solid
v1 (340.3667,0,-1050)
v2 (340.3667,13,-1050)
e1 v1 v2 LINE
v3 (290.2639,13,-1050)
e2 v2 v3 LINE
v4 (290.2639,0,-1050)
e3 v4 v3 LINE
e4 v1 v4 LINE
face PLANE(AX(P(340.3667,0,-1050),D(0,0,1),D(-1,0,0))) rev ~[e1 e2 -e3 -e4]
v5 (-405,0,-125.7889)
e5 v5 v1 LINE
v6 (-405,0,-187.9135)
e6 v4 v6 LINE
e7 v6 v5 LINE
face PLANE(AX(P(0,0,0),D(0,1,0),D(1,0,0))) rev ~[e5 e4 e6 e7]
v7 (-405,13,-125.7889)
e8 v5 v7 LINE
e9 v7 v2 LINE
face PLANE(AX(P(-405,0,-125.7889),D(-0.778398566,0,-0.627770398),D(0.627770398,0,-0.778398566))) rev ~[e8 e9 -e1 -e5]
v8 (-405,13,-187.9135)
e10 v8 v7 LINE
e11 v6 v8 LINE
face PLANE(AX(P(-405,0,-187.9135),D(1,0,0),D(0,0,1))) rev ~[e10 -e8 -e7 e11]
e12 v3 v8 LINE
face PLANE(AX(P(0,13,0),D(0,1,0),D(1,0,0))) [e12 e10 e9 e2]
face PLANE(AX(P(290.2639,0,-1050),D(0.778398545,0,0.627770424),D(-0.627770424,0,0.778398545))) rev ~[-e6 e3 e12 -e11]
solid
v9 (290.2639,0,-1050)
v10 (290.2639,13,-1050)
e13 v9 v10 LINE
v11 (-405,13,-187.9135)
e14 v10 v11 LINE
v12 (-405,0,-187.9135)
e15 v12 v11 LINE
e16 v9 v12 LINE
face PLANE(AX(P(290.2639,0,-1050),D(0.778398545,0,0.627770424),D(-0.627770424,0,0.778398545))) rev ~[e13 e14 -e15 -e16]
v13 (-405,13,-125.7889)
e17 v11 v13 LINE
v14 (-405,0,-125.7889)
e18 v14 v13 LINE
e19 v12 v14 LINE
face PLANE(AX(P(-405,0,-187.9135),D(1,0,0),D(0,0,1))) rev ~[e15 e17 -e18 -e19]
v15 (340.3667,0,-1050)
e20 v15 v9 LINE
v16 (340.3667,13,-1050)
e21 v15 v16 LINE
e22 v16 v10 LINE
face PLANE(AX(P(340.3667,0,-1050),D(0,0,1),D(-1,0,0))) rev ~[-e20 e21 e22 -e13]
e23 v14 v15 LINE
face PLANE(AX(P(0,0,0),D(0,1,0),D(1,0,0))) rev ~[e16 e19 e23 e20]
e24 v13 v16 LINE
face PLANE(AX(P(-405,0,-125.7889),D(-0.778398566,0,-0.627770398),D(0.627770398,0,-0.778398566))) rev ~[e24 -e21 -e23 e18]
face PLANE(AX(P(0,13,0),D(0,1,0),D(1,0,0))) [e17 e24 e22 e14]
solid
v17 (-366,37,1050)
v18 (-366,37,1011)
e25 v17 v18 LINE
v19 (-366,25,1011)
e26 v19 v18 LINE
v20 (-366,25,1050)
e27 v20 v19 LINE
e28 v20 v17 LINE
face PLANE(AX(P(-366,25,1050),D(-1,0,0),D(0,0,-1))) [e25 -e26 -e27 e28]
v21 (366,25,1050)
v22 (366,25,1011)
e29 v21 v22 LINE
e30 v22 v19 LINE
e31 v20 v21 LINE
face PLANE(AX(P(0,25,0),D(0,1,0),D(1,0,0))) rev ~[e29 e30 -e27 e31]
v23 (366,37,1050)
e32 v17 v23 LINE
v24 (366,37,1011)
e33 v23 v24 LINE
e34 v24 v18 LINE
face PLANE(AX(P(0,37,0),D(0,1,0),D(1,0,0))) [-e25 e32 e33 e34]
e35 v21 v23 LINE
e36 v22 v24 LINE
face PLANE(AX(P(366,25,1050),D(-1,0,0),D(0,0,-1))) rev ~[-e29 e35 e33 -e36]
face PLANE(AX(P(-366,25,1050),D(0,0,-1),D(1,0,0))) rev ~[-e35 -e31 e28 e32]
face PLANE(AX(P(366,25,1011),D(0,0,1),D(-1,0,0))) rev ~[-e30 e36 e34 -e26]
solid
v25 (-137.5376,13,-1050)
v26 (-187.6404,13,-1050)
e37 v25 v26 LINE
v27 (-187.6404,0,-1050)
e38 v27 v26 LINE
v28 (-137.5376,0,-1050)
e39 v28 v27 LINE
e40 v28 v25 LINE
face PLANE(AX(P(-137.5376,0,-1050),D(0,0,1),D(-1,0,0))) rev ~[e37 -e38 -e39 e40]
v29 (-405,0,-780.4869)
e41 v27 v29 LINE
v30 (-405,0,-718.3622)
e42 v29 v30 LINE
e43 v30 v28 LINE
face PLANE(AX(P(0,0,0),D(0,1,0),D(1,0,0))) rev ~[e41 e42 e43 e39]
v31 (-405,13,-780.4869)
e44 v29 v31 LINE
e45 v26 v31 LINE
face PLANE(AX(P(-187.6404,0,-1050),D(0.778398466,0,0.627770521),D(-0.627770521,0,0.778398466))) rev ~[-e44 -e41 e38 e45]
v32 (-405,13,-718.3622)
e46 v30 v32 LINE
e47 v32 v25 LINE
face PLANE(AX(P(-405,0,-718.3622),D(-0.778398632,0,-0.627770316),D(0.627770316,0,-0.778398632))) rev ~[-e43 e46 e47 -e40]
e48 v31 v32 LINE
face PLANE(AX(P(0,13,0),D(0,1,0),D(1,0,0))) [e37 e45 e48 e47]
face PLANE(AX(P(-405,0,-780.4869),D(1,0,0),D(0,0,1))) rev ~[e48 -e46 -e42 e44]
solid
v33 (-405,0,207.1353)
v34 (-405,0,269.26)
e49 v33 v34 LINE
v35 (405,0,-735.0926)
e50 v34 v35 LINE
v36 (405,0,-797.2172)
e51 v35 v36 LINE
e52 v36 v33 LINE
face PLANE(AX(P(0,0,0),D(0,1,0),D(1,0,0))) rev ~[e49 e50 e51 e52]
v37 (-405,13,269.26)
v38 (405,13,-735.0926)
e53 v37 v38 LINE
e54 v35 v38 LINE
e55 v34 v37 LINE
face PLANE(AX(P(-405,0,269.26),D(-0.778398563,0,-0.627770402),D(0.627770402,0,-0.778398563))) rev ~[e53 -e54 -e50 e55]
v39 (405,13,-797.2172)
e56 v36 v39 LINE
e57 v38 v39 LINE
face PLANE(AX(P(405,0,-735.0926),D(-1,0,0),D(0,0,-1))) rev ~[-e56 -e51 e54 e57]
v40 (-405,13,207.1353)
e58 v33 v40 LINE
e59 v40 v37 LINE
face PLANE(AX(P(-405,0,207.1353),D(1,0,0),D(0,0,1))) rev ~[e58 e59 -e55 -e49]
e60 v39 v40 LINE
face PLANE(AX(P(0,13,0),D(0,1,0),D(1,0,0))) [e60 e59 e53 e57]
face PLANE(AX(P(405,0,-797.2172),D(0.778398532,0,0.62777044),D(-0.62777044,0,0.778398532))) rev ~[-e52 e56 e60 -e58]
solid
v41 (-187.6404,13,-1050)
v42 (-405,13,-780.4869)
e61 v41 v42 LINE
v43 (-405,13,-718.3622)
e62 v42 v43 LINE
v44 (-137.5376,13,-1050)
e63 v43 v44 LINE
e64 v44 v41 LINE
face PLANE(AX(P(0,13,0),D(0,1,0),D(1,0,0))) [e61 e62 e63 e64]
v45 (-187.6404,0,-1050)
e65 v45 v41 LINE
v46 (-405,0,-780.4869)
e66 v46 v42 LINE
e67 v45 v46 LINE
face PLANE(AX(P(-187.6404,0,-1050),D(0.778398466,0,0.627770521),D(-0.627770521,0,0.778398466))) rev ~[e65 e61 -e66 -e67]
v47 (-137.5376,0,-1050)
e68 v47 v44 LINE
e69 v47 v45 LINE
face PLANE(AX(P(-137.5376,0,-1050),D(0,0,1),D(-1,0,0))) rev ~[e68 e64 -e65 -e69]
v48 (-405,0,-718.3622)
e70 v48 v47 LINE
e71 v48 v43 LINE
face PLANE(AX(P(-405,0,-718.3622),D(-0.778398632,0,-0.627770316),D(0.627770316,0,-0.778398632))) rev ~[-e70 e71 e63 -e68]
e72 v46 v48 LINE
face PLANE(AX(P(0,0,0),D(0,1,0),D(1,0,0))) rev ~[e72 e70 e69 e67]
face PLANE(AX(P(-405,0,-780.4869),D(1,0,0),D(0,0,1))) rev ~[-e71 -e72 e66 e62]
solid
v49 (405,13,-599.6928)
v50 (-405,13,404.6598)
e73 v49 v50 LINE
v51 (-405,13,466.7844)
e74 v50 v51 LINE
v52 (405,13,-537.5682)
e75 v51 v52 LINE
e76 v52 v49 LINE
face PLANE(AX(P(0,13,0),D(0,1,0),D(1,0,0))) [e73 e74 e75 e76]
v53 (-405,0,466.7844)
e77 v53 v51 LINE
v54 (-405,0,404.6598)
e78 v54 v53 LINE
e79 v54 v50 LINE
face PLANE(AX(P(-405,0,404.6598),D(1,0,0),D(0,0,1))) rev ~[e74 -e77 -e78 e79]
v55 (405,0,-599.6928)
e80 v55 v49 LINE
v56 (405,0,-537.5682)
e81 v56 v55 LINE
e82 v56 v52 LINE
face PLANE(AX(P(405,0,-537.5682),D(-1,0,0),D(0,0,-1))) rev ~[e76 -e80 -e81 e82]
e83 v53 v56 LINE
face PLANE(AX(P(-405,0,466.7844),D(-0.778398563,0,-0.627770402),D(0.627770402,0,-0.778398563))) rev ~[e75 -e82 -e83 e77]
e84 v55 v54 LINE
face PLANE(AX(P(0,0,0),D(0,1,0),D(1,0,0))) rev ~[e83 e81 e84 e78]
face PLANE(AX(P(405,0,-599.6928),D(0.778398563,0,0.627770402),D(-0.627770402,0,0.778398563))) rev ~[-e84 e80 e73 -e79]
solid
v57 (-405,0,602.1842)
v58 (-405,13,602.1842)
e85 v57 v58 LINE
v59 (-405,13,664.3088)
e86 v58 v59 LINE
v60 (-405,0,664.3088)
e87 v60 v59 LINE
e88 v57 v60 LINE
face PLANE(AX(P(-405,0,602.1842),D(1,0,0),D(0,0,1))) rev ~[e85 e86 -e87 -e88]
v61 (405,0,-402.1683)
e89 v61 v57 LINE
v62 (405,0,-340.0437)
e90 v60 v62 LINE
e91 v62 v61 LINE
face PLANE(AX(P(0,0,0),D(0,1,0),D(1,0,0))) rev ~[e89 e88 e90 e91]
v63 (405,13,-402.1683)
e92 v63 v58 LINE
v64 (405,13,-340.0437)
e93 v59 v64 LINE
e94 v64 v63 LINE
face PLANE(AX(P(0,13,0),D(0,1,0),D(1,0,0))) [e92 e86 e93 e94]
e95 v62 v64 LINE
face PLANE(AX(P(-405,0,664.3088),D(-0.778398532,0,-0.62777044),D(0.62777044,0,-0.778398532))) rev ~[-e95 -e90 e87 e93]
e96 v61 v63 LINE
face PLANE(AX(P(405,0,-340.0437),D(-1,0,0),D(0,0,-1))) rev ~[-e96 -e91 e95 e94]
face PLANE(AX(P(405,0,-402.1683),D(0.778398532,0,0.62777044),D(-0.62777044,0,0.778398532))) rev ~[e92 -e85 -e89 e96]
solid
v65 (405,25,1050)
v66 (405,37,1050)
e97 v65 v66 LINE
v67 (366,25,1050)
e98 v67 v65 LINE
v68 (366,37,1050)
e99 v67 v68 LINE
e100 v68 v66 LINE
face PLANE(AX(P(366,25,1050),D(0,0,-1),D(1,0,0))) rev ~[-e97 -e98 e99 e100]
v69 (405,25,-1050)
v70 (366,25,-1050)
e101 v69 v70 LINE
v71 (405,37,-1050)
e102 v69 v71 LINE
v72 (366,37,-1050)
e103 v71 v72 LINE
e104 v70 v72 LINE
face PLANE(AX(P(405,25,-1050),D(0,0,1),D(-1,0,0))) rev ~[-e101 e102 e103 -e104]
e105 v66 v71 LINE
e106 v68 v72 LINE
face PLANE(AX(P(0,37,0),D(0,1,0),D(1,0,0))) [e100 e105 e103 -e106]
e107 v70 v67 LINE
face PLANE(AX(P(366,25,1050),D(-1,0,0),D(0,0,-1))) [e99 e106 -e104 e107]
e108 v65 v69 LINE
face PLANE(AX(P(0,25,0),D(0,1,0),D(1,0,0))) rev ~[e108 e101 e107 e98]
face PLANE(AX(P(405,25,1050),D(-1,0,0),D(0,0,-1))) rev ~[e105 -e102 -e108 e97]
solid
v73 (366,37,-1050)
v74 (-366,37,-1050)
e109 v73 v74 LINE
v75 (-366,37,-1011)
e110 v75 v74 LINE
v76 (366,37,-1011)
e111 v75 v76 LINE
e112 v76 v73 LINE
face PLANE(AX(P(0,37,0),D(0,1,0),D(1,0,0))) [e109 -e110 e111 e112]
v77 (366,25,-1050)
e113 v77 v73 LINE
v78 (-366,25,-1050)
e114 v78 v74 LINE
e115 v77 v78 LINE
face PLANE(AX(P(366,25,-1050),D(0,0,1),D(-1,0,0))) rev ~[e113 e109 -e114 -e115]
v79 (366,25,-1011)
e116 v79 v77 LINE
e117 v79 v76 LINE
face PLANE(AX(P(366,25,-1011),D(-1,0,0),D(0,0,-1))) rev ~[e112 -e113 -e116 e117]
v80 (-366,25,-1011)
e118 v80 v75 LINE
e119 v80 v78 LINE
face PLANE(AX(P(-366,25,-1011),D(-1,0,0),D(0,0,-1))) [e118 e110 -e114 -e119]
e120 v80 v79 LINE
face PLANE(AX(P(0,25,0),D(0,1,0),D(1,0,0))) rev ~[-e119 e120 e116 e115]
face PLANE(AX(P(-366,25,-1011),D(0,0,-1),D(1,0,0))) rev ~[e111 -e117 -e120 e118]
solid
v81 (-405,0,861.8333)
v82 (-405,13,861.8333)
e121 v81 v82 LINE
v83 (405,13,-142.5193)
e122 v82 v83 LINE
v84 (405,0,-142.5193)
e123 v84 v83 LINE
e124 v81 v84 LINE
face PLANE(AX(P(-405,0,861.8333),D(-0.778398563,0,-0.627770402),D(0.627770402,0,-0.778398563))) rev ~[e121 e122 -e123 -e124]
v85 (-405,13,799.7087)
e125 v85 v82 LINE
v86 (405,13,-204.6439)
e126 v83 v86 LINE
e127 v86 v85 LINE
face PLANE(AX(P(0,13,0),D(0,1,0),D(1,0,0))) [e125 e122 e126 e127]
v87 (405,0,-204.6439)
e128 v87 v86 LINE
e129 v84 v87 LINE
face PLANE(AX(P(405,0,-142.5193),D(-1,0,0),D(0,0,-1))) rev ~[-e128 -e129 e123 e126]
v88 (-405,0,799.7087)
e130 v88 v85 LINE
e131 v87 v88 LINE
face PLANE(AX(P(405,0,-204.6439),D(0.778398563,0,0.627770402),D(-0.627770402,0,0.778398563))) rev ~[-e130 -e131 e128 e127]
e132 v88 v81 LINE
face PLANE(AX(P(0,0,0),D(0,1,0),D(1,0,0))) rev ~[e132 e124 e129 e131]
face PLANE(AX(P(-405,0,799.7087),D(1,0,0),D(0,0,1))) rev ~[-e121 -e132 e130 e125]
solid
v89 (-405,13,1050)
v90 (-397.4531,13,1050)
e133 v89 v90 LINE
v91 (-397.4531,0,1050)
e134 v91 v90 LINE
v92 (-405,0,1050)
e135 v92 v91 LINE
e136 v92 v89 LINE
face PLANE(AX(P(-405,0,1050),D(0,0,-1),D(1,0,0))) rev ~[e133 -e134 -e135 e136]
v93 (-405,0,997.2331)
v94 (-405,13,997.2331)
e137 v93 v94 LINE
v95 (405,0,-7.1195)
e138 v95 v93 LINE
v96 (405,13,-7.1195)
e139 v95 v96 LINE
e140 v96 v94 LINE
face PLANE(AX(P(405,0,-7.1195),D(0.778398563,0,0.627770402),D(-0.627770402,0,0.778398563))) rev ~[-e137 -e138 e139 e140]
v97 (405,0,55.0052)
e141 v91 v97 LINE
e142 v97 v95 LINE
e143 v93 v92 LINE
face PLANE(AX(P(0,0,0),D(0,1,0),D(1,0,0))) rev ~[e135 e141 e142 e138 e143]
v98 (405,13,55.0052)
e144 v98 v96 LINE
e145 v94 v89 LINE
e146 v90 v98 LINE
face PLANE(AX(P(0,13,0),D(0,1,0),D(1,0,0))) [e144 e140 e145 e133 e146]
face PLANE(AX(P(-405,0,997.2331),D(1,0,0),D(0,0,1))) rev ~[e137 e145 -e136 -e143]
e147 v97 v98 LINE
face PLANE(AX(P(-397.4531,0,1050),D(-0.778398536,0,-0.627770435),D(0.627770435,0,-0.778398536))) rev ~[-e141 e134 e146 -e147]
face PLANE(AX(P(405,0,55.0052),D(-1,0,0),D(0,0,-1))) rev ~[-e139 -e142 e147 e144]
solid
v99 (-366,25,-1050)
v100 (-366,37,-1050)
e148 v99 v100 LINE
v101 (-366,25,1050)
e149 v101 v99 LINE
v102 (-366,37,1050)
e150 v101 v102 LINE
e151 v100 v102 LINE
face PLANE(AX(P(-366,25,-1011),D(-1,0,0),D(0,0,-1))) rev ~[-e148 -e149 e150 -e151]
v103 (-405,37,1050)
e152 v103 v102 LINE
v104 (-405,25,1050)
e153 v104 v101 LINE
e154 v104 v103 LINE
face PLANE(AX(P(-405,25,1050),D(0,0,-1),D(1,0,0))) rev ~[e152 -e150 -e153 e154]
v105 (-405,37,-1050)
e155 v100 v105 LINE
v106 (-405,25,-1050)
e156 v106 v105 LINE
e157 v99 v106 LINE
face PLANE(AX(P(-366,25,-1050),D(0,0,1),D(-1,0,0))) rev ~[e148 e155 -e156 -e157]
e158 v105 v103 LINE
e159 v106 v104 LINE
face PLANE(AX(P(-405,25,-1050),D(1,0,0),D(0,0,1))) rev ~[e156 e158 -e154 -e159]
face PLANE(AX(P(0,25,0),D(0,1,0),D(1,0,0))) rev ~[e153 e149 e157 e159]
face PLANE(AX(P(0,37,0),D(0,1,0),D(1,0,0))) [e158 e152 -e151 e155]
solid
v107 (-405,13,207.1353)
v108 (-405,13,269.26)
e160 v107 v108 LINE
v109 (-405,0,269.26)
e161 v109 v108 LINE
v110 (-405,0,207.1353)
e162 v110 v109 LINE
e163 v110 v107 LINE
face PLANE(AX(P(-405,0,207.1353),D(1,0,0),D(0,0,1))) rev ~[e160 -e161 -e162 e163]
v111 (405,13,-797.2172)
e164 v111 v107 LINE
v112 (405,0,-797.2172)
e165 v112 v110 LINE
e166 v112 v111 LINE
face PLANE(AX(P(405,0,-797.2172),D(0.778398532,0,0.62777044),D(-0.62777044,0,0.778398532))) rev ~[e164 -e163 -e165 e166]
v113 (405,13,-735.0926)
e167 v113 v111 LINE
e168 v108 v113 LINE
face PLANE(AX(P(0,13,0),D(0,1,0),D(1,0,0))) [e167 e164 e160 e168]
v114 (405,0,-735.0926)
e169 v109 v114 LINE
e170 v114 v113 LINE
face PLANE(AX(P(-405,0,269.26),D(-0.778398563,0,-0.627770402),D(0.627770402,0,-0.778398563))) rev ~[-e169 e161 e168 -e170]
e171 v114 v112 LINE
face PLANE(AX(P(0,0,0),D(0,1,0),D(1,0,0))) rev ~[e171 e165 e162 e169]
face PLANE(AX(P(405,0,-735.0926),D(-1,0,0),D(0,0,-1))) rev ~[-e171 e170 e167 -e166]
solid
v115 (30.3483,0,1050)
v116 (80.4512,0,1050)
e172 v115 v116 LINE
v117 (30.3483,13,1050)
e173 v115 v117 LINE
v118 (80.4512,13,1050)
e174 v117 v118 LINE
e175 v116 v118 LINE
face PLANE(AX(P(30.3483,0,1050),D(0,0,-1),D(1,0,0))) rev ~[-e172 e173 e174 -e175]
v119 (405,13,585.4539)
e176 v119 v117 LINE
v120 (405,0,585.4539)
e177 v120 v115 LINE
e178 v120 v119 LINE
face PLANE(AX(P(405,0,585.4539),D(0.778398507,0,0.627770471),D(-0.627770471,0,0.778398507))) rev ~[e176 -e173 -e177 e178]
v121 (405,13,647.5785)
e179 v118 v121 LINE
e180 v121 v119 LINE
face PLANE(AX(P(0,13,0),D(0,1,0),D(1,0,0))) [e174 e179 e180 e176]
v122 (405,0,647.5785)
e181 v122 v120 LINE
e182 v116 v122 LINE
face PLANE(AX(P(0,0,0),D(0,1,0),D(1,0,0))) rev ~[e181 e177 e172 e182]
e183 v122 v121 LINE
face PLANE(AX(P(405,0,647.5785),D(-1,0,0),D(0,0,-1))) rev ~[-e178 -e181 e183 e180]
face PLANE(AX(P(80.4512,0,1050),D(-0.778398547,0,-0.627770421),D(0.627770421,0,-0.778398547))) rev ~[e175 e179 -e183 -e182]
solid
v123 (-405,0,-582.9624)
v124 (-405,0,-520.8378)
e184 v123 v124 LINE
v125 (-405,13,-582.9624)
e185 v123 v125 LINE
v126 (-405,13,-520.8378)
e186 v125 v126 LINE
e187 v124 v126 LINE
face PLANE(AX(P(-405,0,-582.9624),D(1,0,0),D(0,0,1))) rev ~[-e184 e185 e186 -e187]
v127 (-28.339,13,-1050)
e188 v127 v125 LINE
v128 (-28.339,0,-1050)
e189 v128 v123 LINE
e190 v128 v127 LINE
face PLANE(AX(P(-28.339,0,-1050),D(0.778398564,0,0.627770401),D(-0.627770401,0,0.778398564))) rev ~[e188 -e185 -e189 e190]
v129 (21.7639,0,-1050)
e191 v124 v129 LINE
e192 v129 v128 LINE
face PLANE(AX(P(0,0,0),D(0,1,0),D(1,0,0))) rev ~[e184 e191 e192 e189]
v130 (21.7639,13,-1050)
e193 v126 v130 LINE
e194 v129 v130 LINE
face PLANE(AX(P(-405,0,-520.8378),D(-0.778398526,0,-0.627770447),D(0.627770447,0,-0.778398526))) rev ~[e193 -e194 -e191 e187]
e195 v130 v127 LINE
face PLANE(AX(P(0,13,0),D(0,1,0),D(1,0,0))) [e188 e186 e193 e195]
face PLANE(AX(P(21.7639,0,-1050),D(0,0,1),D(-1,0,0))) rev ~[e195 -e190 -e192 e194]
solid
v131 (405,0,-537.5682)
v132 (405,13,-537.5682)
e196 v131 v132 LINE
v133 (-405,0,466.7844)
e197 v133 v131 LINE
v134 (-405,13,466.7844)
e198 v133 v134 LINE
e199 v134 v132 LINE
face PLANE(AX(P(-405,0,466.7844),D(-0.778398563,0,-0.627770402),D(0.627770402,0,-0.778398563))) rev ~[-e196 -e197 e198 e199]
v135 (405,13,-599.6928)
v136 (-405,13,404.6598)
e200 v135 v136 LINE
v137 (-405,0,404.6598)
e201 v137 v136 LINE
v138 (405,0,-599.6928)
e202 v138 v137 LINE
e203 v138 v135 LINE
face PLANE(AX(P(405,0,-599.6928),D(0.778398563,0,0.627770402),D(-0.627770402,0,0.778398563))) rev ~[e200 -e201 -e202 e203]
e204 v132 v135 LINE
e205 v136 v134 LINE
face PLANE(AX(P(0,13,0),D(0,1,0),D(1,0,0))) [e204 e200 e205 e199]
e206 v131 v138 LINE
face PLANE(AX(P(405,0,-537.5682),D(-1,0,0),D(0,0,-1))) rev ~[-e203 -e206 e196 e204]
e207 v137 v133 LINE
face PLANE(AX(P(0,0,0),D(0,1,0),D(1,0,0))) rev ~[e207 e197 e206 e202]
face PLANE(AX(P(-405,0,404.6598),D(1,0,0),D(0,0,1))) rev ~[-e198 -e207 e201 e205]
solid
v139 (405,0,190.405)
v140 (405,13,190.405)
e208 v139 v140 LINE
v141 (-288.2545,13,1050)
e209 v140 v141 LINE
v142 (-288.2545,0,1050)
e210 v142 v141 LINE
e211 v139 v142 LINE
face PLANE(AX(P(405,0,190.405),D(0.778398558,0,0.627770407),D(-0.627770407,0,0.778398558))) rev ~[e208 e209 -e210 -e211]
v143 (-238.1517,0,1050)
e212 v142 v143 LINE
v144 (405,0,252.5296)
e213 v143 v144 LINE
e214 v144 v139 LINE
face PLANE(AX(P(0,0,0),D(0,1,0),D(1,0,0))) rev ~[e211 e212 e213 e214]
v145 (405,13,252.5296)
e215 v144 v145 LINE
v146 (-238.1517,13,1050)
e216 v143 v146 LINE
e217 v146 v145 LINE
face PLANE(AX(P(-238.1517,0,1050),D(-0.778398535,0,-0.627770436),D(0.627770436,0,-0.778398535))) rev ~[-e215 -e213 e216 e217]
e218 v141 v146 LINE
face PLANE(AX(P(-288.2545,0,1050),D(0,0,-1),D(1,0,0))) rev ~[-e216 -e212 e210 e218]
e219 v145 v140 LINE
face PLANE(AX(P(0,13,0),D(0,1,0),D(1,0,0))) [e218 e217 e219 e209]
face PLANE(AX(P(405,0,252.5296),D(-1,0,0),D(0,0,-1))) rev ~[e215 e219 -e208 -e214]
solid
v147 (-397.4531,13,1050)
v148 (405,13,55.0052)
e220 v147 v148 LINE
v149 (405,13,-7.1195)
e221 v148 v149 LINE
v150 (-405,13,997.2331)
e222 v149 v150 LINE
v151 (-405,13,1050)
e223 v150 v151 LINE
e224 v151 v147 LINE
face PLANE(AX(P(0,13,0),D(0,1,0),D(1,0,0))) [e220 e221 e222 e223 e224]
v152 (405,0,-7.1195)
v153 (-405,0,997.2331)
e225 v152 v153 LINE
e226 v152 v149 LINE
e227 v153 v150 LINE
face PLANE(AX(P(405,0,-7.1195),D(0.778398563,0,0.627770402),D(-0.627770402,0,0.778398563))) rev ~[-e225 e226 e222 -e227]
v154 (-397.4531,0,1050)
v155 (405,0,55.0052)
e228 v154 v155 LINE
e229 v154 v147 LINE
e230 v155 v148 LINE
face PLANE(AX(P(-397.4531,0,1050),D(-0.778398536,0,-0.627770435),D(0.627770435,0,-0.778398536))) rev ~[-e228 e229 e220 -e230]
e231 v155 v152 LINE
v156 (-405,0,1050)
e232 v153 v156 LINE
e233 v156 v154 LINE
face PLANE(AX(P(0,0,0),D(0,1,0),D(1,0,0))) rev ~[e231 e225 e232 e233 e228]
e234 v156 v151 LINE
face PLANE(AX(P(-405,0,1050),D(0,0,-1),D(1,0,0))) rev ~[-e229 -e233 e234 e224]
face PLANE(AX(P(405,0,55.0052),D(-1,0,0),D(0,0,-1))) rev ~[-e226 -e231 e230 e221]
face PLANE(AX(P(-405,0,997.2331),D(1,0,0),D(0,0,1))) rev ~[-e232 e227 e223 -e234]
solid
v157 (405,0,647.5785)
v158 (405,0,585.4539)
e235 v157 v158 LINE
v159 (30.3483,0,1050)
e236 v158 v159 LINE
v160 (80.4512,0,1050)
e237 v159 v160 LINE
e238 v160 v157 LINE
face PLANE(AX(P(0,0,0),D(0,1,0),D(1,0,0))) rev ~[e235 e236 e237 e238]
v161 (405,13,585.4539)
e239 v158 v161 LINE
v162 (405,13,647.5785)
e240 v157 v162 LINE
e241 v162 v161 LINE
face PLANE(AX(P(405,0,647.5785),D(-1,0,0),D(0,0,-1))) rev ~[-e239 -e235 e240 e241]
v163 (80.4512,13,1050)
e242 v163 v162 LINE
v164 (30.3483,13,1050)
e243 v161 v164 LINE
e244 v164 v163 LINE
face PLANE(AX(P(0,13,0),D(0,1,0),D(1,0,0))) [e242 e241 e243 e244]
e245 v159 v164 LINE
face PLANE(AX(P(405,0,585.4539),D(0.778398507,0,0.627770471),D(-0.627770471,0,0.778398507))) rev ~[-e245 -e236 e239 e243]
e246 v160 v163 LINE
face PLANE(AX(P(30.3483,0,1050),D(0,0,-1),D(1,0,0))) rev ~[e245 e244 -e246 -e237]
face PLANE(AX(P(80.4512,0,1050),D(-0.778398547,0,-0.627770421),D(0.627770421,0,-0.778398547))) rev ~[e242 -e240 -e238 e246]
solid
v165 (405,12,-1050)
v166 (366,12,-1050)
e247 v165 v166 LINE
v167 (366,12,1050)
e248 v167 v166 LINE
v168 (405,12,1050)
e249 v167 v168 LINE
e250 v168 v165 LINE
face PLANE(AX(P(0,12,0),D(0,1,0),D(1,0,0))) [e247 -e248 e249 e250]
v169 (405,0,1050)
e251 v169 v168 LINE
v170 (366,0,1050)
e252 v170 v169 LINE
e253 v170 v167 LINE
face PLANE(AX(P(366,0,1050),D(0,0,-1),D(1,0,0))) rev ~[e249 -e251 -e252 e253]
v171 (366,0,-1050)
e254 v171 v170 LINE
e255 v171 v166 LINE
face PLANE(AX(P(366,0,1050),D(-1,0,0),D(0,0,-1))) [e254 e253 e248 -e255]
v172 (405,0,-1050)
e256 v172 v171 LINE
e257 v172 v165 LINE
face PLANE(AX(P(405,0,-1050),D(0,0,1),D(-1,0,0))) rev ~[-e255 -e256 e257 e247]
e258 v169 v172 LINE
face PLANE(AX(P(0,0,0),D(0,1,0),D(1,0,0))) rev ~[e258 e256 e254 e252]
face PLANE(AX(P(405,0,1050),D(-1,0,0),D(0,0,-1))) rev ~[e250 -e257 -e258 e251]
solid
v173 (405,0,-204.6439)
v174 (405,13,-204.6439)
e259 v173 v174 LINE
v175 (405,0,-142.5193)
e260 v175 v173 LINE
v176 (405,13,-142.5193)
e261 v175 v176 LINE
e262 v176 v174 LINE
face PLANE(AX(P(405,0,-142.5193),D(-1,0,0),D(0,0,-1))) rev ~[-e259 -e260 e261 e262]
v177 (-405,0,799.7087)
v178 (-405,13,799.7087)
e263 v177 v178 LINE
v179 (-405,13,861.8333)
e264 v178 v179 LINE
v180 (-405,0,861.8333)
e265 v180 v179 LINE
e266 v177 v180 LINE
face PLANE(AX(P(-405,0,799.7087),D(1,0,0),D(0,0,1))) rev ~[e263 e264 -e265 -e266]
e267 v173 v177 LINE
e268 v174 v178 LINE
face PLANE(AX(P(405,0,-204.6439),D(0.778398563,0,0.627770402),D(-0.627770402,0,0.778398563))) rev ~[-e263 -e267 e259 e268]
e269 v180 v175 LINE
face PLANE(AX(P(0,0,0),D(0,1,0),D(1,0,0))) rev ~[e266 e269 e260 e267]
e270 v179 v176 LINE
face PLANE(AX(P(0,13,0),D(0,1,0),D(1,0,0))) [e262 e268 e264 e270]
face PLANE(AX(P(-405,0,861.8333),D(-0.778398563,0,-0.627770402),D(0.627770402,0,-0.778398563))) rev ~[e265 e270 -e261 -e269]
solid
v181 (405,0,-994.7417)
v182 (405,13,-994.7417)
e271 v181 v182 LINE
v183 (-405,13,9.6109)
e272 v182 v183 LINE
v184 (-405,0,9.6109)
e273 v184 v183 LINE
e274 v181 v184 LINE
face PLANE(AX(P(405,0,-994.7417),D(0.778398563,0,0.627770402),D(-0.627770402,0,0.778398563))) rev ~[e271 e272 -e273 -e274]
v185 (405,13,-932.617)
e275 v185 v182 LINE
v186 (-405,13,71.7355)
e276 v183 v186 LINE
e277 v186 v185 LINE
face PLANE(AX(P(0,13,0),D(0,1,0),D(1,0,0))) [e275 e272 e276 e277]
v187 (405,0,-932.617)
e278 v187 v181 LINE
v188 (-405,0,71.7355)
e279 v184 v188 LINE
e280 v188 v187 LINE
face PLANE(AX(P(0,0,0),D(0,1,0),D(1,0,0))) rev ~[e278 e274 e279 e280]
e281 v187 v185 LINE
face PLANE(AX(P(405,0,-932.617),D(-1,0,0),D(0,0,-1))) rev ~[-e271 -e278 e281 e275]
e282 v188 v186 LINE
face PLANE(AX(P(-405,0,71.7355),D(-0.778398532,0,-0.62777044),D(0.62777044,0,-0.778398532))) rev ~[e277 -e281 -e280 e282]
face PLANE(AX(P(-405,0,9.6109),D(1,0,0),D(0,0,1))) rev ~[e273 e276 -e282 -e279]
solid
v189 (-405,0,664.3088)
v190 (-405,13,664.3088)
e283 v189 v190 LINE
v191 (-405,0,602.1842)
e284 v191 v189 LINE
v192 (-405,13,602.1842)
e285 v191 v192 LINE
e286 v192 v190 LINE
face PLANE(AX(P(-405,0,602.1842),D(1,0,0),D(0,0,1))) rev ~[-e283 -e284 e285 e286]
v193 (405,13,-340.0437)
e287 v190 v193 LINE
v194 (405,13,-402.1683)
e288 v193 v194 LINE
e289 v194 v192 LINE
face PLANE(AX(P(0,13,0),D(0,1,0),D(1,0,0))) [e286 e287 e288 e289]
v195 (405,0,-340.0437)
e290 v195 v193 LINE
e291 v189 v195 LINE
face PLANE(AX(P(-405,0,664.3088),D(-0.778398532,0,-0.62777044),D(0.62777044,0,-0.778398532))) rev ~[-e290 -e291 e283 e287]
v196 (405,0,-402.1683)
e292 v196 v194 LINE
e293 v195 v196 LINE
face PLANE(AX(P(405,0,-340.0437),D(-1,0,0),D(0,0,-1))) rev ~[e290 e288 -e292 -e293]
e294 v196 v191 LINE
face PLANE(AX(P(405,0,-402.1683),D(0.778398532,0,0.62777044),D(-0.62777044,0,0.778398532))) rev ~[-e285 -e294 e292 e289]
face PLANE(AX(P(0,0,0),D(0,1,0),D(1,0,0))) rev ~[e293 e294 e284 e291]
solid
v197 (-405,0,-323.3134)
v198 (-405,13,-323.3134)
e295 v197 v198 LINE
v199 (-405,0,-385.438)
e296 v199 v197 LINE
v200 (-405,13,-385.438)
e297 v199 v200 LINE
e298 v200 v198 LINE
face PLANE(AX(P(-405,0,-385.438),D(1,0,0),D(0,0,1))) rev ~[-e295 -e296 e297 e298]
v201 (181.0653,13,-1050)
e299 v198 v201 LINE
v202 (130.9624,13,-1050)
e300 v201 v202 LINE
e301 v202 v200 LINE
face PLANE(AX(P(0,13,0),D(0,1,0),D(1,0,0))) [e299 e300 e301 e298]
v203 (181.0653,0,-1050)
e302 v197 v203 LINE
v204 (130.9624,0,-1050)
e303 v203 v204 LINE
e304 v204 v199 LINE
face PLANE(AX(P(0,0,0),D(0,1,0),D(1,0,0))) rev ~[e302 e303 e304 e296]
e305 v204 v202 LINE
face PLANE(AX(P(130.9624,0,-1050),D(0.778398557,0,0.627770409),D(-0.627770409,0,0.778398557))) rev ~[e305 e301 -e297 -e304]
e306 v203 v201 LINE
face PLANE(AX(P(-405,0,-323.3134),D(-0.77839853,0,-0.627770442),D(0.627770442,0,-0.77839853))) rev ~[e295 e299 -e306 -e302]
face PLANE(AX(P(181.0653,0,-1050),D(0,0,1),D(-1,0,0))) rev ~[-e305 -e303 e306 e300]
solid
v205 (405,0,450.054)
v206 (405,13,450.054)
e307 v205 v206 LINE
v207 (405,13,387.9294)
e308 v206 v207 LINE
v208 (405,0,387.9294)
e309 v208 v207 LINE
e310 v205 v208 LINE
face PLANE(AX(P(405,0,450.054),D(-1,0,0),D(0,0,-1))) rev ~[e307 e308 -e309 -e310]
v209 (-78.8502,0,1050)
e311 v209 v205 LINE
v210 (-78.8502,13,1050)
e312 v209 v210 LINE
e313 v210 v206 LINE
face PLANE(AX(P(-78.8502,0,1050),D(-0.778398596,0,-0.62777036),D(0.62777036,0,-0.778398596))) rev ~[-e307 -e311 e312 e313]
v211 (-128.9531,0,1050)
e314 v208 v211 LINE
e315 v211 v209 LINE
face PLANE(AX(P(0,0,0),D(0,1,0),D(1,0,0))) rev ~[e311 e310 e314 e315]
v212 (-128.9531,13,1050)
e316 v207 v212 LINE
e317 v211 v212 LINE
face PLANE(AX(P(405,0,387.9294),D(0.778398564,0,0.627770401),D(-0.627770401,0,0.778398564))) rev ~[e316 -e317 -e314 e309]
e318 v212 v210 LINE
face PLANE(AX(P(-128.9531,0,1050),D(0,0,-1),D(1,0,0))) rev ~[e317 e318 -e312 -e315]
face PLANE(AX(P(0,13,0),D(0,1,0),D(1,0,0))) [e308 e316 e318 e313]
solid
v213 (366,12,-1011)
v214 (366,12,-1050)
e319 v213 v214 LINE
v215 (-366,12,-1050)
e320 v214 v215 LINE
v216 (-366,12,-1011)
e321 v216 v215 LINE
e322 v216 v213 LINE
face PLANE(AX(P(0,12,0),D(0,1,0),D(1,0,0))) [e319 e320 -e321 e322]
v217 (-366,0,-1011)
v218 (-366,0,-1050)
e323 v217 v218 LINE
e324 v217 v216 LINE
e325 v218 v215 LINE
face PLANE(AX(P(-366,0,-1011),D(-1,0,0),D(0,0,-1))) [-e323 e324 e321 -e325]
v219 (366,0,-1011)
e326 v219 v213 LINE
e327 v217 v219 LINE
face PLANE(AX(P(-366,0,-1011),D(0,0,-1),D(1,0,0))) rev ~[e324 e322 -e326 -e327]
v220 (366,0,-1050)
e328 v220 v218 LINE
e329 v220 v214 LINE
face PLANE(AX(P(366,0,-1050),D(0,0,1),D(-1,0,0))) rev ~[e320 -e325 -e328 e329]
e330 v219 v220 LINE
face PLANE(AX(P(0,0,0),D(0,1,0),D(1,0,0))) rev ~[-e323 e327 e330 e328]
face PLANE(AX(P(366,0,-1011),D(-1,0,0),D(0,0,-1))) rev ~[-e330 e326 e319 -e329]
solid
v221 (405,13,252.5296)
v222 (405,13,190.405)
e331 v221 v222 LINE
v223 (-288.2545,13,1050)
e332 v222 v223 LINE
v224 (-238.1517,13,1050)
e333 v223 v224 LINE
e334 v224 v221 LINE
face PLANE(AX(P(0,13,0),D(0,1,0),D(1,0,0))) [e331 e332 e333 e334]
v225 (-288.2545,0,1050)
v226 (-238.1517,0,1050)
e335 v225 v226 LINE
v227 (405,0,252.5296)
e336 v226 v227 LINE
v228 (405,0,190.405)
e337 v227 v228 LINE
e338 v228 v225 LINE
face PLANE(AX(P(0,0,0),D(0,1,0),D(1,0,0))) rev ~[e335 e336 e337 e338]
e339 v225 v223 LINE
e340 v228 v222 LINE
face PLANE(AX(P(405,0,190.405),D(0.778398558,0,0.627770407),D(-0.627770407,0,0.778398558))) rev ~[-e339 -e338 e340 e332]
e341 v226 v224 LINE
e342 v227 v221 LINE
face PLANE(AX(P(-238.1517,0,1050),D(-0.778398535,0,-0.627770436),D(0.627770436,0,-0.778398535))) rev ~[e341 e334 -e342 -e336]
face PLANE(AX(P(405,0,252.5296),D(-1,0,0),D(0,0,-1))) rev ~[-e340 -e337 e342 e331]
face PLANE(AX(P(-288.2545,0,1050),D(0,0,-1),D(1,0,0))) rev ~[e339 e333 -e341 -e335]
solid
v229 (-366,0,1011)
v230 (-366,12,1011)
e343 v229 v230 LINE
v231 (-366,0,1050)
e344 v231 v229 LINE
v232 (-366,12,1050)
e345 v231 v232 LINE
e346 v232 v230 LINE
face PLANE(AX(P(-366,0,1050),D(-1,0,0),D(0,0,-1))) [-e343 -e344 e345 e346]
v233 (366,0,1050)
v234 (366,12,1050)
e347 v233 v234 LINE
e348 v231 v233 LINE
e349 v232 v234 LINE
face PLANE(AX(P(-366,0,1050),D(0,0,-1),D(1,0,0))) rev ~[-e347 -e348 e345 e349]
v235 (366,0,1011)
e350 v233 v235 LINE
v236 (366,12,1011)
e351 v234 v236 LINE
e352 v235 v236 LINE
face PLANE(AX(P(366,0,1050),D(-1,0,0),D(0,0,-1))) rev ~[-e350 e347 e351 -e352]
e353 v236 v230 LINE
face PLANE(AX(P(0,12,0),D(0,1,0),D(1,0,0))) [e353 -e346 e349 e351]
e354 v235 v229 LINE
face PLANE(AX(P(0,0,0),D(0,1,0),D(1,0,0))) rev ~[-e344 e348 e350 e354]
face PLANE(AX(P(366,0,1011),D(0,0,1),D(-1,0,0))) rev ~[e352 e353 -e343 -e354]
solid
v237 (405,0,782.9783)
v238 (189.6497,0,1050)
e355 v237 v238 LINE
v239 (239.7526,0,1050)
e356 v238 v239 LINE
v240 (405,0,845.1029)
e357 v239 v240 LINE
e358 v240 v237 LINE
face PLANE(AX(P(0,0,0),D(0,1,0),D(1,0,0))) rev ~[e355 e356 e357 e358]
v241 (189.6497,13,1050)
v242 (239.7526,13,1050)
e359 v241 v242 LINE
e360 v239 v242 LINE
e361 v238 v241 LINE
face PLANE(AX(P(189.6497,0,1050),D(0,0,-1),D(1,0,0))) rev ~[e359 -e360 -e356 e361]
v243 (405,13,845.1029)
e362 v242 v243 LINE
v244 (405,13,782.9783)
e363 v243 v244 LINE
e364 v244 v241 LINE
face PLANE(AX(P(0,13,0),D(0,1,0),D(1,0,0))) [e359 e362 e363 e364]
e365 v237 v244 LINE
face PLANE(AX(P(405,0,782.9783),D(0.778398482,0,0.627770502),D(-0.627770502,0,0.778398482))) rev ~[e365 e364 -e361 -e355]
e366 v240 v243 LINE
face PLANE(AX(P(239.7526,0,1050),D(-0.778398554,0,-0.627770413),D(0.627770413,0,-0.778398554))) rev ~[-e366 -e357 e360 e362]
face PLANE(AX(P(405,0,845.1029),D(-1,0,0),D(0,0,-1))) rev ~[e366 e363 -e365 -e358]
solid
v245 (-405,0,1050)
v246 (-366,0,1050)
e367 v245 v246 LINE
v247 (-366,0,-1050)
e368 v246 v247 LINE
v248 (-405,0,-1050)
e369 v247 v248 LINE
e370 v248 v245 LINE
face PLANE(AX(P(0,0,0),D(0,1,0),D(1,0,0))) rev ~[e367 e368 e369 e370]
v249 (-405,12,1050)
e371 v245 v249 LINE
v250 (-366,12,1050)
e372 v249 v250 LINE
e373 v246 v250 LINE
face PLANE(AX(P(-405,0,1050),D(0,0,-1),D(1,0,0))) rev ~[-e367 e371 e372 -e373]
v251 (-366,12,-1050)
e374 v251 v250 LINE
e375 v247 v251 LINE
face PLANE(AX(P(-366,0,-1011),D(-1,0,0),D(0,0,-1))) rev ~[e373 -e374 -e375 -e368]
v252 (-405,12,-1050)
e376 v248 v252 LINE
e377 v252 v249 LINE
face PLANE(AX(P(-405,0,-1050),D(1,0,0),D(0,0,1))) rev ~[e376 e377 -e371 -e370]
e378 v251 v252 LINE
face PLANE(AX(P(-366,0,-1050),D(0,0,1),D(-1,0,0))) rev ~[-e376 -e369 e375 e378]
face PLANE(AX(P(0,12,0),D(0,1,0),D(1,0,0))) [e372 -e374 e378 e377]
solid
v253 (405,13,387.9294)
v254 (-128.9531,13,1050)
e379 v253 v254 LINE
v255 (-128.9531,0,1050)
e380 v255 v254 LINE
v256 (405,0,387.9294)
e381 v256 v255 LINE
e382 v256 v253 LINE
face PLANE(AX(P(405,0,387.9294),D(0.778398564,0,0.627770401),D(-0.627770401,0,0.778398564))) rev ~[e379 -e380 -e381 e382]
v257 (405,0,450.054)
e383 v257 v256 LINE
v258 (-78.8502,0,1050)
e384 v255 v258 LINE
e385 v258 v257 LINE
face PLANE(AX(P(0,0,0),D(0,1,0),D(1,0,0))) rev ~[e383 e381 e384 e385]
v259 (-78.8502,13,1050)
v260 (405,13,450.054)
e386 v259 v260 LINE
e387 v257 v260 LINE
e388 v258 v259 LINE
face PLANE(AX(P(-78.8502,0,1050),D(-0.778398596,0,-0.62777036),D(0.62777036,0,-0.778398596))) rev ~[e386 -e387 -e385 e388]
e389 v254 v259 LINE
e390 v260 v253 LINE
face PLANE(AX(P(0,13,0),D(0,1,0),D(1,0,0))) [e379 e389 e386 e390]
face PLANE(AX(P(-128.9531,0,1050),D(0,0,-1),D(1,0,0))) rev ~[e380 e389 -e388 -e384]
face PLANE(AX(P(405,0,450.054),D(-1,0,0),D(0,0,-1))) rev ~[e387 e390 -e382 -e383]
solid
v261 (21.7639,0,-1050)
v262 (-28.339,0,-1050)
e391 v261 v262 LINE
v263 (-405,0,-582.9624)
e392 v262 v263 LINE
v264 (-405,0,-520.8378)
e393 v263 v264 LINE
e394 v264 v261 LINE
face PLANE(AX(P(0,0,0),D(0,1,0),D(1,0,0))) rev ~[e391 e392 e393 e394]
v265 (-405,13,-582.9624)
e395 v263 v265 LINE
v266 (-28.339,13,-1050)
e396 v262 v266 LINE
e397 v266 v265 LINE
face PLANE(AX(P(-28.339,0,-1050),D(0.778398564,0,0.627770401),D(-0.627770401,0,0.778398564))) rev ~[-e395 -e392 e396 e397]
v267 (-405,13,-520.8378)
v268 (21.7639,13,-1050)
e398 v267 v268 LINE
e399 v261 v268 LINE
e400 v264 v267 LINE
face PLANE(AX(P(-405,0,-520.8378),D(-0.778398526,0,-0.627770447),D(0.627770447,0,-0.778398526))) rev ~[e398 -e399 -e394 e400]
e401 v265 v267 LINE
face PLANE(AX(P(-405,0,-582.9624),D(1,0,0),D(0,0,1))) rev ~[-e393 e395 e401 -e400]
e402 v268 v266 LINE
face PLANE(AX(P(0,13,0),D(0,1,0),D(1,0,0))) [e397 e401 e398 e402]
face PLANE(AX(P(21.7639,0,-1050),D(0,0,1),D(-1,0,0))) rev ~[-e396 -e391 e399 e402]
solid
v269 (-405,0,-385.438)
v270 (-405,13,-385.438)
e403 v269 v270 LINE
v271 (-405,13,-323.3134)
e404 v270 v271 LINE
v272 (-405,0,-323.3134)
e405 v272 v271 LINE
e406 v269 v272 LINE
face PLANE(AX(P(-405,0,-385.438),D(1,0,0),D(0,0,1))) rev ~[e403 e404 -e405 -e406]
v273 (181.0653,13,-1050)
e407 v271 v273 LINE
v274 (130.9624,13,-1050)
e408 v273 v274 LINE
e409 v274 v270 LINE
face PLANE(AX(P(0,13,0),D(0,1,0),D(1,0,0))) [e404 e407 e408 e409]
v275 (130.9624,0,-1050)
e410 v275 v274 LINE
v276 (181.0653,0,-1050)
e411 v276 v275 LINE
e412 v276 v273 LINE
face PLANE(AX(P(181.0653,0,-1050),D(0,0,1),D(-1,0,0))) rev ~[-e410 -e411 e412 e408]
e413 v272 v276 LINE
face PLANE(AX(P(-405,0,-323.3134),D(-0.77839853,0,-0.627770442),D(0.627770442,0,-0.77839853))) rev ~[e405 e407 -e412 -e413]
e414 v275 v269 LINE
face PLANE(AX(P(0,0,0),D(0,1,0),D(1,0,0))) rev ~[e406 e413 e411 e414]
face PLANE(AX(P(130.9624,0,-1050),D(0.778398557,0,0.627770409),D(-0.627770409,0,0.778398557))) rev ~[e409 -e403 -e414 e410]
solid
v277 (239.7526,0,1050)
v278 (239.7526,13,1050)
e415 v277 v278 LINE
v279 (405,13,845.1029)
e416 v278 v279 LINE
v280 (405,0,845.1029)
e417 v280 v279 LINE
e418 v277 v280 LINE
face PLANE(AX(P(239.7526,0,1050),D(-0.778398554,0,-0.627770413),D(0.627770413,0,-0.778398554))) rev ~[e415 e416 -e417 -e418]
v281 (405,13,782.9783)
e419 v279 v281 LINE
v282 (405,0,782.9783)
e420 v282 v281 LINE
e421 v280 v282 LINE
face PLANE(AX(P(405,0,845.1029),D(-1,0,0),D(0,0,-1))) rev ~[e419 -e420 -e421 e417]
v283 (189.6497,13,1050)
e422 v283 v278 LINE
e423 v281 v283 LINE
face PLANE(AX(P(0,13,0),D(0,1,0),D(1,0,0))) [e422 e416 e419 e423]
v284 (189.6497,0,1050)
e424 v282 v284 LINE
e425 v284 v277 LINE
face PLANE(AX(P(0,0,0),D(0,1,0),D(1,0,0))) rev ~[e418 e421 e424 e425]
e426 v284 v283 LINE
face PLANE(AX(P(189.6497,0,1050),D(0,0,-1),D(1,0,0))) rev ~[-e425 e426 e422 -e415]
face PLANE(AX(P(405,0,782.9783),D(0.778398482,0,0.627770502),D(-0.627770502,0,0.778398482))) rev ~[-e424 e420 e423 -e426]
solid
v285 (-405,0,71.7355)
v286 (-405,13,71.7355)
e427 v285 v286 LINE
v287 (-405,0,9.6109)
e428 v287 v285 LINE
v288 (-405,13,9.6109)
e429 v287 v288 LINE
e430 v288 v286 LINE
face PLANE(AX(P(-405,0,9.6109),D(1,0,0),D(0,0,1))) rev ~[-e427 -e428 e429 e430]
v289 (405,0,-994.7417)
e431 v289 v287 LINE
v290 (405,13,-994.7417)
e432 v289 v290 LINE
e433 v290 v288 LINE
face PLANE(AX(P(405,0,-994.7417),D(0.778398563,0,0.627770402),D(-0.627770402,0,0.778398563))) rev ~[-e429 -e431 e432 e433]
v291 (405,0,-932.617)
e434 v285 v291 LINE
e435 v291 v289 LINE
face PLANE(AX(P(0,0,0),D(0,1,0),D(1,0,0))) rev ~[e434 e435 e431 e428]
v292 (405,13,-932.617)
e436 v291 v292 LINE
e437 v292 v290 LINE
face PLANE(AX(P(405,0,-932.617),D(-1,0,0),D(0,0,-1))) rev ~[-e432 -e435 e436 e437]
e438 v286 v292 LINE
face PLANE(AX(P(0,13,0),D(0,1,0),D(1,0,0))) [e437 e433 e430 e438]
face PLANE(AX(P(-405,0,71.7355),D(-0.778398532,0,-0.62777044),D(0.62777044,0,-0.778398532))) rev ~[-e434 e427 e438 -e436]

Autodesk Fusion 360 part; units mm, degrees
sketch "Sketch1" plane through (0, 0, 0) normal (0, 1, 0) x (1, 0, 0) in component "Front"
  line L0 (405, 1050) -> (-405, 1050)
  line L1 (-405, 1050) -> (-405, -1050)
  line L2 (-405, -1050) -> (405, -1050)
  line L3 (405, -1050) -> (405, 1050)
  line L4 (405, 1050) -> (-405, -1050) construction
  line L5 (-405, 1050) -> (405, -1050) construction
  line L6 (-366, -1050) -> (-366, 1050)
  line L7 (0, -1645) -> (0, 1420) construction
  line L8 (366, -1050) -> (366, 1050)
  line L9 (366, -1011) -> (-366, -1011)
  line L10 (-366, 1011) -> (366, 1011)
  dimension "d2" = 810
  dimension "d3" = 2100
  dimension "d4" = 39
  dimension "d9" = 39
  dimension "d10" = 39
extrude "Extrude1" add sketch "Sketch1" along normal blind 12 contours L0 L2 L3 L8 | L0 L1 L2 L6 makes body 1 at (-392, 0, -350) makes body 2 at (379, 0, 350) in component "Front"
extrude "Extrude2" add sketch "Sketch1" along normal blind 12 separate body contours L0 L6 L8 L10 | L2 L6 L8 L9 makes body 3 at (-122, 0, -1024) makes body 4 at (-122, 0, 1037) in component "Front"
sketch "Sketch1 (2)" plane through (0, 0, 0) normal (0, 1, 0) x (1, 0, 0) in component "Middle Front"
  line L0 (-366, -1050) -> (-366, 1050) construction
  line L1 (366, -1011) -> (-366, -1011) construction
  line L2 (366, -1050) -> (366, 1050) construction
  line L3 (-366, 1011) -> (366, 1011) construction
  line L4 (-397.4531, -1050) -> (405, -55.0052)
  line L5 (405, 7.1195) -> (-405, -997.2331)
  line L6 (405, -190.405) -> (-288.2545, -1050)
  line L7 (-238.1517, -1050) -> (405, -252.5296)
  line L8 (80.4512, -1050) -> (405, -647.5785)
  line L9 (405, -585.4539) -> (30.3483, -1050)
  line L10 (-78.8502, -1050) -> (405, -450.054)
  line L11 (405, -387.9294) -> (-128.9531, -1050)
  line L12 (405, -1050) -> (405, 1050)
  line L13 (-405, -1050) -> (405, -1050)
  line L14 (-405, 1050) -> (-405, -1050)
  line L15 (405, 1050) -> (-405, 1050)
  line L16 (239.7526, -1050) -> (405, -845.1029)
  line L17 (405, -782.9783) -> (189.6497, -1050)
  line L18 (405, 204.6439) -> (-405, -799.7087)
  line L19 (-405, -861.8333) -> (405, 142.5193)
  line L20 (405, 402.1683) -> (-405, -602.1842)
  line L21 (-405, -664.3088) -> (405, 340.0437)
  line L22 (405, 599.6928) -> (-405, -404.6598)
  line L23 (-405, -466.7844) -> (405, 537.5682)
  line L24 (405, 797.2172) -> (-405, -207.1353)
  line L25 (-405, -269.26) -> (405, 735.0926)
  line L26 (405, 994.7417) -> (-405, -9.6109)
  line L27 (-405, -71.7355) -> (405, 932.617)
  line L28 (290.2639, 1050) -> (-405, 187.9135)
  line L29 (-405, 125.7889) -> (340.3667, 1050)
  line L30 (130.9624, 1050) -> (-405, 385.438)
  line L31 (-405, 323.3134) -> (181.0653, 1050)
  line L32 (-28.339, 1050) -> (-405, 582.9624)
  line L33 (-405, 520.8378) -> (21.7639, 1050)
  line L34 (-187.6404, 1050) -> (-405, 780.4869)
  line L35 (-405, 718.3622) -> (-137.5376, 1050)
  dimension "d15" = 39
  dimension "d16" = 39
  dimension "d17" = 85
  dimension "d18" = 39
  dimension "d19" = 39
  dimension "d20" = 85
  dimension "d21" = 85
  dimension "d22" = 39
  dimension "d23" = 85
  dimension "d24" = 39
  dimension "d25" = 39
  dimension "d26" = 39
  dimension "d27" = 39
  dimension "d28" = 39
  dimension "d29" = 39
  dimension "d30" = 39
  dimension "d31" = 39
  dimension "d32" = 39
  dimension "d33" = 85
  dimension "d34" = 85
  dimension "d35" = 85
  dimension "d36" = 85
  dimension "d37" = 85
  dimension "d38" = 85
  dimension "d39" = 85
  dimension "d40" = 85
  dimension "d41" = 85
extrude "Extrude1'" add sketch "Sketch1 (2)" along normal blind 13 separate body contours L4 L5 L12 L13 L14 | L6 L7 L12 L13 | L12 L14 L18 L19 | L10 L11 L12 L13 | L12 L14 L20 L21 | L8 L9 L12 L13 | L12 L14 L22 L23 | L12 L13 L16 L17 | L12 L14 L24 L25 | L12 L14 L26 L27 | L14 L15 L28 L29 | L14 L15 L30 L31 | L14 L15 L32 L33 | L14 L15 L34 L35 makes body 5 at (-209.6449, 0, -586.2504) makes body 6 at (135, 0, -244.2004) makes body 7 at (173.9152, 0, 497.6449) makes body 8 at (333.2166, 0, 892.6937) makes body 9 at (135, 0, 348.3729) makes body 10 at (135, 0, -441.7248) makes body 11 at (-262.7454, 0, -717.9334) makes body 12 at (-156.5444, 0, -454.5675) makes body 13 at (-135, 0, 308.8164) makes body 14 at (227.0156, 0, 629.3278) makes body 15 at (280.1161, 0, 761.0108) makes body 16 at (135, 0, 150.8485) makes body 17 at (135, 0, -639.2493) makes body 18 at (-315.8459, 0, -849.6164) in component "Middle Front"
sketch "Sketch1 (3)" plane through (0, 0, 0) normal (0, 1, 0) x (1, 0, 0) in component "Middle Back"
  line L0 (-366, -1050) -> (-366, 1050) construction
  line L1 (366, -1011) -> (-366, -1011) construction
  line L2 (366, -1050) -> (366, 1050) construction
  line L3 (-366, 1011) -> (366, 1011) construction
  line L4 (-397.4531, -1050) -> (405, -55.0052)
  line L5 (405, 7.1195) -> (-405, -997.2331)
  line L6 (405, -190.405) -> (-288.2545, -1050)
  line L7 (-238.1517, -1050) -> (405, -252.5296)
  line L8 (80.4512, -1050) -> (405, -647.5785)
  line L9 (405, -585.4539) -> (30.3483, -1050)
  line L10 (-78.8502, -1050) -> (405, -450.054)
  line L11 (405, -387.9294) -> (-128.9531, -1050)
  line L12 (405, -1050) -> (405, 1050)
  line L13 (-405, -1050) -> (405, -1050)
  line L14 (-405, 1050) -> (-405, -1050)
  line L15 (405, 1050) -> (-405, 1050)
  line L16 (239.7526, -1050) -> (405, -845.1029)
  line L17 (405, -782.9783) -> (189.6497, -1050)
  line L18 (405, 204.6439) -> (-405, -799.7087)
  line L19 (-405, -861.8333) -> (405, 142.5193)
  line L20 (405, 402.1683) -> (-405, -602.1842)
  line L21 (-405, -664.3088) -> (405, 340.0437)
  line L22 (405, 599.6928) -> (-405, -404.6598)
  line L23 (-405, -466.7844) -> (405, 537.5682)
  line L24 (405, 797.2172) -> (-405, -207.1353)
  line L25 (-405, -269.26) -> (405, 735.0926)
  line L26 (405, 994.7417) -> (-405, -9.6109)
  line L27 (-405, -71.7355) -> (405, 932.617)
  line L28 (290.2639, 1050) -> (-405, 187.9135)
  line L29 (-405, 125.7889) -> (340.3667, 1050)
  line L30 (130.9624, 1050) -> (-405, 385.438)
  line L31 (-405, 323.3134) -> (181.0653, 1050)
  line L32 (-28.339, 1050) -> (-405, 582.9624)
  line L33 (-405, 520.8378) -> (21.7639, 1050)
  line L34 (-187.6404, 1050) -> (-405, 780.4869)
  line L35 (-405, 718.3622) -> (-137.5376, 1050)
  dimension "d15_1" = 39
  dimension "d16_1" = 39
  dimension "d17_1" = 85
  dimension "d18_1" = 39
  dimension "d19_1" = 39
  dimension "d20_1" = 85
  dimension "d21_1" = 85
  dimension "d22_1" = 39
  dimension "d23_1" = 85
  dimension "d24_1" = 39
  dimension "d25_1" = 39
  dimension "d26_1" = 39
  dimension "d27_1" = 39
  dimension "d28_1" = 39
  dimension "d29_1" = 39
  dimension "d30_1" = 39
  dimension "d31_1" = 39
  dimension "d32_1" = 39
  dimension "d33_1" = 85
  dimension "d34_1" = 85
  dimension "d35_1" = 85
  dimension "d36_1" = 85
  dimension "d37_1" = 85
  dimension "d38_1" = 85
  dimension "d39_1" = 85
  dimension "d40_1" = 85
  dimension "d41_1" = 85
extrude "Extrude1''" add sketch "Sketch1 (3)" along normal blind 13 separate body contours L4 L5 L12 L13 L14 | L6 L7 L12 L13 | L12 L14 L18 L19 | L10 L11 L12 L13 | L12 L14 L20 L21 | L8 L9 L12 L13 | L12 L14 L22 L23 | L12 L13 L16 L17 | L12 L14 L24 L25 | L12 L14 L26 L27 | L14 L15 L28 L29 | L14 L15 L30 L31 | L14 L15 L32 L33 | L14 L15 L34 L35 makes body 19 at (-209.6449, 0, -586.2504) makes body 20 at (135, 0, -244.2004) makes body 21 at (173.9152, 0, 497.6449) makes body 22 at (333.2166, 0, 892.6937) makes body 23 at (135, 0, 348.3729) makes body 24 at (135, 0, -441.7248) makes body 25 at (-262.7454, 0, -717.9334) makes body 26 at (-156.5444, 0, -454.5675) makes body 27 at (-135, 0, 308.8164) makes body 28 at (227.0156, 0, 629.3278) makes body 29 at (280.1161, 0, 761.0108) makes body 30 at (135, 0, 150.8485) makes body 31 at (135, 0, -639.2493) makes body 32 at (-315.8459, 0, -849.6164) in component "Middle Back"
component "Frame" placed x (1, 0, 0) y (0, 1, 0) z (0, 0, 1) at (0, 0, 0)
component "Front" placed x (1, 0, 0) y (0, 1, 0) z (0, 0, 1) at (0, 0, 0) in component "Frame"
component "Middle Front" placed x (1, 0, 0) y (0, 1, 0) z (0, 0, 1) at (0, 0, 0) in component "Frame"
component "Middle Back" placed x (1, 0, 0) y (0, 1, 0) z (0, 0, 1) at (0, 0, 0) in component "Frame"
component "Front" placed x (1, 0, 0) y (0, 1, 0) z (0, 0, 1) at (0, 25, 0) in component "Frame"
equation "d9 = d4"
equation "d10 = d9"
